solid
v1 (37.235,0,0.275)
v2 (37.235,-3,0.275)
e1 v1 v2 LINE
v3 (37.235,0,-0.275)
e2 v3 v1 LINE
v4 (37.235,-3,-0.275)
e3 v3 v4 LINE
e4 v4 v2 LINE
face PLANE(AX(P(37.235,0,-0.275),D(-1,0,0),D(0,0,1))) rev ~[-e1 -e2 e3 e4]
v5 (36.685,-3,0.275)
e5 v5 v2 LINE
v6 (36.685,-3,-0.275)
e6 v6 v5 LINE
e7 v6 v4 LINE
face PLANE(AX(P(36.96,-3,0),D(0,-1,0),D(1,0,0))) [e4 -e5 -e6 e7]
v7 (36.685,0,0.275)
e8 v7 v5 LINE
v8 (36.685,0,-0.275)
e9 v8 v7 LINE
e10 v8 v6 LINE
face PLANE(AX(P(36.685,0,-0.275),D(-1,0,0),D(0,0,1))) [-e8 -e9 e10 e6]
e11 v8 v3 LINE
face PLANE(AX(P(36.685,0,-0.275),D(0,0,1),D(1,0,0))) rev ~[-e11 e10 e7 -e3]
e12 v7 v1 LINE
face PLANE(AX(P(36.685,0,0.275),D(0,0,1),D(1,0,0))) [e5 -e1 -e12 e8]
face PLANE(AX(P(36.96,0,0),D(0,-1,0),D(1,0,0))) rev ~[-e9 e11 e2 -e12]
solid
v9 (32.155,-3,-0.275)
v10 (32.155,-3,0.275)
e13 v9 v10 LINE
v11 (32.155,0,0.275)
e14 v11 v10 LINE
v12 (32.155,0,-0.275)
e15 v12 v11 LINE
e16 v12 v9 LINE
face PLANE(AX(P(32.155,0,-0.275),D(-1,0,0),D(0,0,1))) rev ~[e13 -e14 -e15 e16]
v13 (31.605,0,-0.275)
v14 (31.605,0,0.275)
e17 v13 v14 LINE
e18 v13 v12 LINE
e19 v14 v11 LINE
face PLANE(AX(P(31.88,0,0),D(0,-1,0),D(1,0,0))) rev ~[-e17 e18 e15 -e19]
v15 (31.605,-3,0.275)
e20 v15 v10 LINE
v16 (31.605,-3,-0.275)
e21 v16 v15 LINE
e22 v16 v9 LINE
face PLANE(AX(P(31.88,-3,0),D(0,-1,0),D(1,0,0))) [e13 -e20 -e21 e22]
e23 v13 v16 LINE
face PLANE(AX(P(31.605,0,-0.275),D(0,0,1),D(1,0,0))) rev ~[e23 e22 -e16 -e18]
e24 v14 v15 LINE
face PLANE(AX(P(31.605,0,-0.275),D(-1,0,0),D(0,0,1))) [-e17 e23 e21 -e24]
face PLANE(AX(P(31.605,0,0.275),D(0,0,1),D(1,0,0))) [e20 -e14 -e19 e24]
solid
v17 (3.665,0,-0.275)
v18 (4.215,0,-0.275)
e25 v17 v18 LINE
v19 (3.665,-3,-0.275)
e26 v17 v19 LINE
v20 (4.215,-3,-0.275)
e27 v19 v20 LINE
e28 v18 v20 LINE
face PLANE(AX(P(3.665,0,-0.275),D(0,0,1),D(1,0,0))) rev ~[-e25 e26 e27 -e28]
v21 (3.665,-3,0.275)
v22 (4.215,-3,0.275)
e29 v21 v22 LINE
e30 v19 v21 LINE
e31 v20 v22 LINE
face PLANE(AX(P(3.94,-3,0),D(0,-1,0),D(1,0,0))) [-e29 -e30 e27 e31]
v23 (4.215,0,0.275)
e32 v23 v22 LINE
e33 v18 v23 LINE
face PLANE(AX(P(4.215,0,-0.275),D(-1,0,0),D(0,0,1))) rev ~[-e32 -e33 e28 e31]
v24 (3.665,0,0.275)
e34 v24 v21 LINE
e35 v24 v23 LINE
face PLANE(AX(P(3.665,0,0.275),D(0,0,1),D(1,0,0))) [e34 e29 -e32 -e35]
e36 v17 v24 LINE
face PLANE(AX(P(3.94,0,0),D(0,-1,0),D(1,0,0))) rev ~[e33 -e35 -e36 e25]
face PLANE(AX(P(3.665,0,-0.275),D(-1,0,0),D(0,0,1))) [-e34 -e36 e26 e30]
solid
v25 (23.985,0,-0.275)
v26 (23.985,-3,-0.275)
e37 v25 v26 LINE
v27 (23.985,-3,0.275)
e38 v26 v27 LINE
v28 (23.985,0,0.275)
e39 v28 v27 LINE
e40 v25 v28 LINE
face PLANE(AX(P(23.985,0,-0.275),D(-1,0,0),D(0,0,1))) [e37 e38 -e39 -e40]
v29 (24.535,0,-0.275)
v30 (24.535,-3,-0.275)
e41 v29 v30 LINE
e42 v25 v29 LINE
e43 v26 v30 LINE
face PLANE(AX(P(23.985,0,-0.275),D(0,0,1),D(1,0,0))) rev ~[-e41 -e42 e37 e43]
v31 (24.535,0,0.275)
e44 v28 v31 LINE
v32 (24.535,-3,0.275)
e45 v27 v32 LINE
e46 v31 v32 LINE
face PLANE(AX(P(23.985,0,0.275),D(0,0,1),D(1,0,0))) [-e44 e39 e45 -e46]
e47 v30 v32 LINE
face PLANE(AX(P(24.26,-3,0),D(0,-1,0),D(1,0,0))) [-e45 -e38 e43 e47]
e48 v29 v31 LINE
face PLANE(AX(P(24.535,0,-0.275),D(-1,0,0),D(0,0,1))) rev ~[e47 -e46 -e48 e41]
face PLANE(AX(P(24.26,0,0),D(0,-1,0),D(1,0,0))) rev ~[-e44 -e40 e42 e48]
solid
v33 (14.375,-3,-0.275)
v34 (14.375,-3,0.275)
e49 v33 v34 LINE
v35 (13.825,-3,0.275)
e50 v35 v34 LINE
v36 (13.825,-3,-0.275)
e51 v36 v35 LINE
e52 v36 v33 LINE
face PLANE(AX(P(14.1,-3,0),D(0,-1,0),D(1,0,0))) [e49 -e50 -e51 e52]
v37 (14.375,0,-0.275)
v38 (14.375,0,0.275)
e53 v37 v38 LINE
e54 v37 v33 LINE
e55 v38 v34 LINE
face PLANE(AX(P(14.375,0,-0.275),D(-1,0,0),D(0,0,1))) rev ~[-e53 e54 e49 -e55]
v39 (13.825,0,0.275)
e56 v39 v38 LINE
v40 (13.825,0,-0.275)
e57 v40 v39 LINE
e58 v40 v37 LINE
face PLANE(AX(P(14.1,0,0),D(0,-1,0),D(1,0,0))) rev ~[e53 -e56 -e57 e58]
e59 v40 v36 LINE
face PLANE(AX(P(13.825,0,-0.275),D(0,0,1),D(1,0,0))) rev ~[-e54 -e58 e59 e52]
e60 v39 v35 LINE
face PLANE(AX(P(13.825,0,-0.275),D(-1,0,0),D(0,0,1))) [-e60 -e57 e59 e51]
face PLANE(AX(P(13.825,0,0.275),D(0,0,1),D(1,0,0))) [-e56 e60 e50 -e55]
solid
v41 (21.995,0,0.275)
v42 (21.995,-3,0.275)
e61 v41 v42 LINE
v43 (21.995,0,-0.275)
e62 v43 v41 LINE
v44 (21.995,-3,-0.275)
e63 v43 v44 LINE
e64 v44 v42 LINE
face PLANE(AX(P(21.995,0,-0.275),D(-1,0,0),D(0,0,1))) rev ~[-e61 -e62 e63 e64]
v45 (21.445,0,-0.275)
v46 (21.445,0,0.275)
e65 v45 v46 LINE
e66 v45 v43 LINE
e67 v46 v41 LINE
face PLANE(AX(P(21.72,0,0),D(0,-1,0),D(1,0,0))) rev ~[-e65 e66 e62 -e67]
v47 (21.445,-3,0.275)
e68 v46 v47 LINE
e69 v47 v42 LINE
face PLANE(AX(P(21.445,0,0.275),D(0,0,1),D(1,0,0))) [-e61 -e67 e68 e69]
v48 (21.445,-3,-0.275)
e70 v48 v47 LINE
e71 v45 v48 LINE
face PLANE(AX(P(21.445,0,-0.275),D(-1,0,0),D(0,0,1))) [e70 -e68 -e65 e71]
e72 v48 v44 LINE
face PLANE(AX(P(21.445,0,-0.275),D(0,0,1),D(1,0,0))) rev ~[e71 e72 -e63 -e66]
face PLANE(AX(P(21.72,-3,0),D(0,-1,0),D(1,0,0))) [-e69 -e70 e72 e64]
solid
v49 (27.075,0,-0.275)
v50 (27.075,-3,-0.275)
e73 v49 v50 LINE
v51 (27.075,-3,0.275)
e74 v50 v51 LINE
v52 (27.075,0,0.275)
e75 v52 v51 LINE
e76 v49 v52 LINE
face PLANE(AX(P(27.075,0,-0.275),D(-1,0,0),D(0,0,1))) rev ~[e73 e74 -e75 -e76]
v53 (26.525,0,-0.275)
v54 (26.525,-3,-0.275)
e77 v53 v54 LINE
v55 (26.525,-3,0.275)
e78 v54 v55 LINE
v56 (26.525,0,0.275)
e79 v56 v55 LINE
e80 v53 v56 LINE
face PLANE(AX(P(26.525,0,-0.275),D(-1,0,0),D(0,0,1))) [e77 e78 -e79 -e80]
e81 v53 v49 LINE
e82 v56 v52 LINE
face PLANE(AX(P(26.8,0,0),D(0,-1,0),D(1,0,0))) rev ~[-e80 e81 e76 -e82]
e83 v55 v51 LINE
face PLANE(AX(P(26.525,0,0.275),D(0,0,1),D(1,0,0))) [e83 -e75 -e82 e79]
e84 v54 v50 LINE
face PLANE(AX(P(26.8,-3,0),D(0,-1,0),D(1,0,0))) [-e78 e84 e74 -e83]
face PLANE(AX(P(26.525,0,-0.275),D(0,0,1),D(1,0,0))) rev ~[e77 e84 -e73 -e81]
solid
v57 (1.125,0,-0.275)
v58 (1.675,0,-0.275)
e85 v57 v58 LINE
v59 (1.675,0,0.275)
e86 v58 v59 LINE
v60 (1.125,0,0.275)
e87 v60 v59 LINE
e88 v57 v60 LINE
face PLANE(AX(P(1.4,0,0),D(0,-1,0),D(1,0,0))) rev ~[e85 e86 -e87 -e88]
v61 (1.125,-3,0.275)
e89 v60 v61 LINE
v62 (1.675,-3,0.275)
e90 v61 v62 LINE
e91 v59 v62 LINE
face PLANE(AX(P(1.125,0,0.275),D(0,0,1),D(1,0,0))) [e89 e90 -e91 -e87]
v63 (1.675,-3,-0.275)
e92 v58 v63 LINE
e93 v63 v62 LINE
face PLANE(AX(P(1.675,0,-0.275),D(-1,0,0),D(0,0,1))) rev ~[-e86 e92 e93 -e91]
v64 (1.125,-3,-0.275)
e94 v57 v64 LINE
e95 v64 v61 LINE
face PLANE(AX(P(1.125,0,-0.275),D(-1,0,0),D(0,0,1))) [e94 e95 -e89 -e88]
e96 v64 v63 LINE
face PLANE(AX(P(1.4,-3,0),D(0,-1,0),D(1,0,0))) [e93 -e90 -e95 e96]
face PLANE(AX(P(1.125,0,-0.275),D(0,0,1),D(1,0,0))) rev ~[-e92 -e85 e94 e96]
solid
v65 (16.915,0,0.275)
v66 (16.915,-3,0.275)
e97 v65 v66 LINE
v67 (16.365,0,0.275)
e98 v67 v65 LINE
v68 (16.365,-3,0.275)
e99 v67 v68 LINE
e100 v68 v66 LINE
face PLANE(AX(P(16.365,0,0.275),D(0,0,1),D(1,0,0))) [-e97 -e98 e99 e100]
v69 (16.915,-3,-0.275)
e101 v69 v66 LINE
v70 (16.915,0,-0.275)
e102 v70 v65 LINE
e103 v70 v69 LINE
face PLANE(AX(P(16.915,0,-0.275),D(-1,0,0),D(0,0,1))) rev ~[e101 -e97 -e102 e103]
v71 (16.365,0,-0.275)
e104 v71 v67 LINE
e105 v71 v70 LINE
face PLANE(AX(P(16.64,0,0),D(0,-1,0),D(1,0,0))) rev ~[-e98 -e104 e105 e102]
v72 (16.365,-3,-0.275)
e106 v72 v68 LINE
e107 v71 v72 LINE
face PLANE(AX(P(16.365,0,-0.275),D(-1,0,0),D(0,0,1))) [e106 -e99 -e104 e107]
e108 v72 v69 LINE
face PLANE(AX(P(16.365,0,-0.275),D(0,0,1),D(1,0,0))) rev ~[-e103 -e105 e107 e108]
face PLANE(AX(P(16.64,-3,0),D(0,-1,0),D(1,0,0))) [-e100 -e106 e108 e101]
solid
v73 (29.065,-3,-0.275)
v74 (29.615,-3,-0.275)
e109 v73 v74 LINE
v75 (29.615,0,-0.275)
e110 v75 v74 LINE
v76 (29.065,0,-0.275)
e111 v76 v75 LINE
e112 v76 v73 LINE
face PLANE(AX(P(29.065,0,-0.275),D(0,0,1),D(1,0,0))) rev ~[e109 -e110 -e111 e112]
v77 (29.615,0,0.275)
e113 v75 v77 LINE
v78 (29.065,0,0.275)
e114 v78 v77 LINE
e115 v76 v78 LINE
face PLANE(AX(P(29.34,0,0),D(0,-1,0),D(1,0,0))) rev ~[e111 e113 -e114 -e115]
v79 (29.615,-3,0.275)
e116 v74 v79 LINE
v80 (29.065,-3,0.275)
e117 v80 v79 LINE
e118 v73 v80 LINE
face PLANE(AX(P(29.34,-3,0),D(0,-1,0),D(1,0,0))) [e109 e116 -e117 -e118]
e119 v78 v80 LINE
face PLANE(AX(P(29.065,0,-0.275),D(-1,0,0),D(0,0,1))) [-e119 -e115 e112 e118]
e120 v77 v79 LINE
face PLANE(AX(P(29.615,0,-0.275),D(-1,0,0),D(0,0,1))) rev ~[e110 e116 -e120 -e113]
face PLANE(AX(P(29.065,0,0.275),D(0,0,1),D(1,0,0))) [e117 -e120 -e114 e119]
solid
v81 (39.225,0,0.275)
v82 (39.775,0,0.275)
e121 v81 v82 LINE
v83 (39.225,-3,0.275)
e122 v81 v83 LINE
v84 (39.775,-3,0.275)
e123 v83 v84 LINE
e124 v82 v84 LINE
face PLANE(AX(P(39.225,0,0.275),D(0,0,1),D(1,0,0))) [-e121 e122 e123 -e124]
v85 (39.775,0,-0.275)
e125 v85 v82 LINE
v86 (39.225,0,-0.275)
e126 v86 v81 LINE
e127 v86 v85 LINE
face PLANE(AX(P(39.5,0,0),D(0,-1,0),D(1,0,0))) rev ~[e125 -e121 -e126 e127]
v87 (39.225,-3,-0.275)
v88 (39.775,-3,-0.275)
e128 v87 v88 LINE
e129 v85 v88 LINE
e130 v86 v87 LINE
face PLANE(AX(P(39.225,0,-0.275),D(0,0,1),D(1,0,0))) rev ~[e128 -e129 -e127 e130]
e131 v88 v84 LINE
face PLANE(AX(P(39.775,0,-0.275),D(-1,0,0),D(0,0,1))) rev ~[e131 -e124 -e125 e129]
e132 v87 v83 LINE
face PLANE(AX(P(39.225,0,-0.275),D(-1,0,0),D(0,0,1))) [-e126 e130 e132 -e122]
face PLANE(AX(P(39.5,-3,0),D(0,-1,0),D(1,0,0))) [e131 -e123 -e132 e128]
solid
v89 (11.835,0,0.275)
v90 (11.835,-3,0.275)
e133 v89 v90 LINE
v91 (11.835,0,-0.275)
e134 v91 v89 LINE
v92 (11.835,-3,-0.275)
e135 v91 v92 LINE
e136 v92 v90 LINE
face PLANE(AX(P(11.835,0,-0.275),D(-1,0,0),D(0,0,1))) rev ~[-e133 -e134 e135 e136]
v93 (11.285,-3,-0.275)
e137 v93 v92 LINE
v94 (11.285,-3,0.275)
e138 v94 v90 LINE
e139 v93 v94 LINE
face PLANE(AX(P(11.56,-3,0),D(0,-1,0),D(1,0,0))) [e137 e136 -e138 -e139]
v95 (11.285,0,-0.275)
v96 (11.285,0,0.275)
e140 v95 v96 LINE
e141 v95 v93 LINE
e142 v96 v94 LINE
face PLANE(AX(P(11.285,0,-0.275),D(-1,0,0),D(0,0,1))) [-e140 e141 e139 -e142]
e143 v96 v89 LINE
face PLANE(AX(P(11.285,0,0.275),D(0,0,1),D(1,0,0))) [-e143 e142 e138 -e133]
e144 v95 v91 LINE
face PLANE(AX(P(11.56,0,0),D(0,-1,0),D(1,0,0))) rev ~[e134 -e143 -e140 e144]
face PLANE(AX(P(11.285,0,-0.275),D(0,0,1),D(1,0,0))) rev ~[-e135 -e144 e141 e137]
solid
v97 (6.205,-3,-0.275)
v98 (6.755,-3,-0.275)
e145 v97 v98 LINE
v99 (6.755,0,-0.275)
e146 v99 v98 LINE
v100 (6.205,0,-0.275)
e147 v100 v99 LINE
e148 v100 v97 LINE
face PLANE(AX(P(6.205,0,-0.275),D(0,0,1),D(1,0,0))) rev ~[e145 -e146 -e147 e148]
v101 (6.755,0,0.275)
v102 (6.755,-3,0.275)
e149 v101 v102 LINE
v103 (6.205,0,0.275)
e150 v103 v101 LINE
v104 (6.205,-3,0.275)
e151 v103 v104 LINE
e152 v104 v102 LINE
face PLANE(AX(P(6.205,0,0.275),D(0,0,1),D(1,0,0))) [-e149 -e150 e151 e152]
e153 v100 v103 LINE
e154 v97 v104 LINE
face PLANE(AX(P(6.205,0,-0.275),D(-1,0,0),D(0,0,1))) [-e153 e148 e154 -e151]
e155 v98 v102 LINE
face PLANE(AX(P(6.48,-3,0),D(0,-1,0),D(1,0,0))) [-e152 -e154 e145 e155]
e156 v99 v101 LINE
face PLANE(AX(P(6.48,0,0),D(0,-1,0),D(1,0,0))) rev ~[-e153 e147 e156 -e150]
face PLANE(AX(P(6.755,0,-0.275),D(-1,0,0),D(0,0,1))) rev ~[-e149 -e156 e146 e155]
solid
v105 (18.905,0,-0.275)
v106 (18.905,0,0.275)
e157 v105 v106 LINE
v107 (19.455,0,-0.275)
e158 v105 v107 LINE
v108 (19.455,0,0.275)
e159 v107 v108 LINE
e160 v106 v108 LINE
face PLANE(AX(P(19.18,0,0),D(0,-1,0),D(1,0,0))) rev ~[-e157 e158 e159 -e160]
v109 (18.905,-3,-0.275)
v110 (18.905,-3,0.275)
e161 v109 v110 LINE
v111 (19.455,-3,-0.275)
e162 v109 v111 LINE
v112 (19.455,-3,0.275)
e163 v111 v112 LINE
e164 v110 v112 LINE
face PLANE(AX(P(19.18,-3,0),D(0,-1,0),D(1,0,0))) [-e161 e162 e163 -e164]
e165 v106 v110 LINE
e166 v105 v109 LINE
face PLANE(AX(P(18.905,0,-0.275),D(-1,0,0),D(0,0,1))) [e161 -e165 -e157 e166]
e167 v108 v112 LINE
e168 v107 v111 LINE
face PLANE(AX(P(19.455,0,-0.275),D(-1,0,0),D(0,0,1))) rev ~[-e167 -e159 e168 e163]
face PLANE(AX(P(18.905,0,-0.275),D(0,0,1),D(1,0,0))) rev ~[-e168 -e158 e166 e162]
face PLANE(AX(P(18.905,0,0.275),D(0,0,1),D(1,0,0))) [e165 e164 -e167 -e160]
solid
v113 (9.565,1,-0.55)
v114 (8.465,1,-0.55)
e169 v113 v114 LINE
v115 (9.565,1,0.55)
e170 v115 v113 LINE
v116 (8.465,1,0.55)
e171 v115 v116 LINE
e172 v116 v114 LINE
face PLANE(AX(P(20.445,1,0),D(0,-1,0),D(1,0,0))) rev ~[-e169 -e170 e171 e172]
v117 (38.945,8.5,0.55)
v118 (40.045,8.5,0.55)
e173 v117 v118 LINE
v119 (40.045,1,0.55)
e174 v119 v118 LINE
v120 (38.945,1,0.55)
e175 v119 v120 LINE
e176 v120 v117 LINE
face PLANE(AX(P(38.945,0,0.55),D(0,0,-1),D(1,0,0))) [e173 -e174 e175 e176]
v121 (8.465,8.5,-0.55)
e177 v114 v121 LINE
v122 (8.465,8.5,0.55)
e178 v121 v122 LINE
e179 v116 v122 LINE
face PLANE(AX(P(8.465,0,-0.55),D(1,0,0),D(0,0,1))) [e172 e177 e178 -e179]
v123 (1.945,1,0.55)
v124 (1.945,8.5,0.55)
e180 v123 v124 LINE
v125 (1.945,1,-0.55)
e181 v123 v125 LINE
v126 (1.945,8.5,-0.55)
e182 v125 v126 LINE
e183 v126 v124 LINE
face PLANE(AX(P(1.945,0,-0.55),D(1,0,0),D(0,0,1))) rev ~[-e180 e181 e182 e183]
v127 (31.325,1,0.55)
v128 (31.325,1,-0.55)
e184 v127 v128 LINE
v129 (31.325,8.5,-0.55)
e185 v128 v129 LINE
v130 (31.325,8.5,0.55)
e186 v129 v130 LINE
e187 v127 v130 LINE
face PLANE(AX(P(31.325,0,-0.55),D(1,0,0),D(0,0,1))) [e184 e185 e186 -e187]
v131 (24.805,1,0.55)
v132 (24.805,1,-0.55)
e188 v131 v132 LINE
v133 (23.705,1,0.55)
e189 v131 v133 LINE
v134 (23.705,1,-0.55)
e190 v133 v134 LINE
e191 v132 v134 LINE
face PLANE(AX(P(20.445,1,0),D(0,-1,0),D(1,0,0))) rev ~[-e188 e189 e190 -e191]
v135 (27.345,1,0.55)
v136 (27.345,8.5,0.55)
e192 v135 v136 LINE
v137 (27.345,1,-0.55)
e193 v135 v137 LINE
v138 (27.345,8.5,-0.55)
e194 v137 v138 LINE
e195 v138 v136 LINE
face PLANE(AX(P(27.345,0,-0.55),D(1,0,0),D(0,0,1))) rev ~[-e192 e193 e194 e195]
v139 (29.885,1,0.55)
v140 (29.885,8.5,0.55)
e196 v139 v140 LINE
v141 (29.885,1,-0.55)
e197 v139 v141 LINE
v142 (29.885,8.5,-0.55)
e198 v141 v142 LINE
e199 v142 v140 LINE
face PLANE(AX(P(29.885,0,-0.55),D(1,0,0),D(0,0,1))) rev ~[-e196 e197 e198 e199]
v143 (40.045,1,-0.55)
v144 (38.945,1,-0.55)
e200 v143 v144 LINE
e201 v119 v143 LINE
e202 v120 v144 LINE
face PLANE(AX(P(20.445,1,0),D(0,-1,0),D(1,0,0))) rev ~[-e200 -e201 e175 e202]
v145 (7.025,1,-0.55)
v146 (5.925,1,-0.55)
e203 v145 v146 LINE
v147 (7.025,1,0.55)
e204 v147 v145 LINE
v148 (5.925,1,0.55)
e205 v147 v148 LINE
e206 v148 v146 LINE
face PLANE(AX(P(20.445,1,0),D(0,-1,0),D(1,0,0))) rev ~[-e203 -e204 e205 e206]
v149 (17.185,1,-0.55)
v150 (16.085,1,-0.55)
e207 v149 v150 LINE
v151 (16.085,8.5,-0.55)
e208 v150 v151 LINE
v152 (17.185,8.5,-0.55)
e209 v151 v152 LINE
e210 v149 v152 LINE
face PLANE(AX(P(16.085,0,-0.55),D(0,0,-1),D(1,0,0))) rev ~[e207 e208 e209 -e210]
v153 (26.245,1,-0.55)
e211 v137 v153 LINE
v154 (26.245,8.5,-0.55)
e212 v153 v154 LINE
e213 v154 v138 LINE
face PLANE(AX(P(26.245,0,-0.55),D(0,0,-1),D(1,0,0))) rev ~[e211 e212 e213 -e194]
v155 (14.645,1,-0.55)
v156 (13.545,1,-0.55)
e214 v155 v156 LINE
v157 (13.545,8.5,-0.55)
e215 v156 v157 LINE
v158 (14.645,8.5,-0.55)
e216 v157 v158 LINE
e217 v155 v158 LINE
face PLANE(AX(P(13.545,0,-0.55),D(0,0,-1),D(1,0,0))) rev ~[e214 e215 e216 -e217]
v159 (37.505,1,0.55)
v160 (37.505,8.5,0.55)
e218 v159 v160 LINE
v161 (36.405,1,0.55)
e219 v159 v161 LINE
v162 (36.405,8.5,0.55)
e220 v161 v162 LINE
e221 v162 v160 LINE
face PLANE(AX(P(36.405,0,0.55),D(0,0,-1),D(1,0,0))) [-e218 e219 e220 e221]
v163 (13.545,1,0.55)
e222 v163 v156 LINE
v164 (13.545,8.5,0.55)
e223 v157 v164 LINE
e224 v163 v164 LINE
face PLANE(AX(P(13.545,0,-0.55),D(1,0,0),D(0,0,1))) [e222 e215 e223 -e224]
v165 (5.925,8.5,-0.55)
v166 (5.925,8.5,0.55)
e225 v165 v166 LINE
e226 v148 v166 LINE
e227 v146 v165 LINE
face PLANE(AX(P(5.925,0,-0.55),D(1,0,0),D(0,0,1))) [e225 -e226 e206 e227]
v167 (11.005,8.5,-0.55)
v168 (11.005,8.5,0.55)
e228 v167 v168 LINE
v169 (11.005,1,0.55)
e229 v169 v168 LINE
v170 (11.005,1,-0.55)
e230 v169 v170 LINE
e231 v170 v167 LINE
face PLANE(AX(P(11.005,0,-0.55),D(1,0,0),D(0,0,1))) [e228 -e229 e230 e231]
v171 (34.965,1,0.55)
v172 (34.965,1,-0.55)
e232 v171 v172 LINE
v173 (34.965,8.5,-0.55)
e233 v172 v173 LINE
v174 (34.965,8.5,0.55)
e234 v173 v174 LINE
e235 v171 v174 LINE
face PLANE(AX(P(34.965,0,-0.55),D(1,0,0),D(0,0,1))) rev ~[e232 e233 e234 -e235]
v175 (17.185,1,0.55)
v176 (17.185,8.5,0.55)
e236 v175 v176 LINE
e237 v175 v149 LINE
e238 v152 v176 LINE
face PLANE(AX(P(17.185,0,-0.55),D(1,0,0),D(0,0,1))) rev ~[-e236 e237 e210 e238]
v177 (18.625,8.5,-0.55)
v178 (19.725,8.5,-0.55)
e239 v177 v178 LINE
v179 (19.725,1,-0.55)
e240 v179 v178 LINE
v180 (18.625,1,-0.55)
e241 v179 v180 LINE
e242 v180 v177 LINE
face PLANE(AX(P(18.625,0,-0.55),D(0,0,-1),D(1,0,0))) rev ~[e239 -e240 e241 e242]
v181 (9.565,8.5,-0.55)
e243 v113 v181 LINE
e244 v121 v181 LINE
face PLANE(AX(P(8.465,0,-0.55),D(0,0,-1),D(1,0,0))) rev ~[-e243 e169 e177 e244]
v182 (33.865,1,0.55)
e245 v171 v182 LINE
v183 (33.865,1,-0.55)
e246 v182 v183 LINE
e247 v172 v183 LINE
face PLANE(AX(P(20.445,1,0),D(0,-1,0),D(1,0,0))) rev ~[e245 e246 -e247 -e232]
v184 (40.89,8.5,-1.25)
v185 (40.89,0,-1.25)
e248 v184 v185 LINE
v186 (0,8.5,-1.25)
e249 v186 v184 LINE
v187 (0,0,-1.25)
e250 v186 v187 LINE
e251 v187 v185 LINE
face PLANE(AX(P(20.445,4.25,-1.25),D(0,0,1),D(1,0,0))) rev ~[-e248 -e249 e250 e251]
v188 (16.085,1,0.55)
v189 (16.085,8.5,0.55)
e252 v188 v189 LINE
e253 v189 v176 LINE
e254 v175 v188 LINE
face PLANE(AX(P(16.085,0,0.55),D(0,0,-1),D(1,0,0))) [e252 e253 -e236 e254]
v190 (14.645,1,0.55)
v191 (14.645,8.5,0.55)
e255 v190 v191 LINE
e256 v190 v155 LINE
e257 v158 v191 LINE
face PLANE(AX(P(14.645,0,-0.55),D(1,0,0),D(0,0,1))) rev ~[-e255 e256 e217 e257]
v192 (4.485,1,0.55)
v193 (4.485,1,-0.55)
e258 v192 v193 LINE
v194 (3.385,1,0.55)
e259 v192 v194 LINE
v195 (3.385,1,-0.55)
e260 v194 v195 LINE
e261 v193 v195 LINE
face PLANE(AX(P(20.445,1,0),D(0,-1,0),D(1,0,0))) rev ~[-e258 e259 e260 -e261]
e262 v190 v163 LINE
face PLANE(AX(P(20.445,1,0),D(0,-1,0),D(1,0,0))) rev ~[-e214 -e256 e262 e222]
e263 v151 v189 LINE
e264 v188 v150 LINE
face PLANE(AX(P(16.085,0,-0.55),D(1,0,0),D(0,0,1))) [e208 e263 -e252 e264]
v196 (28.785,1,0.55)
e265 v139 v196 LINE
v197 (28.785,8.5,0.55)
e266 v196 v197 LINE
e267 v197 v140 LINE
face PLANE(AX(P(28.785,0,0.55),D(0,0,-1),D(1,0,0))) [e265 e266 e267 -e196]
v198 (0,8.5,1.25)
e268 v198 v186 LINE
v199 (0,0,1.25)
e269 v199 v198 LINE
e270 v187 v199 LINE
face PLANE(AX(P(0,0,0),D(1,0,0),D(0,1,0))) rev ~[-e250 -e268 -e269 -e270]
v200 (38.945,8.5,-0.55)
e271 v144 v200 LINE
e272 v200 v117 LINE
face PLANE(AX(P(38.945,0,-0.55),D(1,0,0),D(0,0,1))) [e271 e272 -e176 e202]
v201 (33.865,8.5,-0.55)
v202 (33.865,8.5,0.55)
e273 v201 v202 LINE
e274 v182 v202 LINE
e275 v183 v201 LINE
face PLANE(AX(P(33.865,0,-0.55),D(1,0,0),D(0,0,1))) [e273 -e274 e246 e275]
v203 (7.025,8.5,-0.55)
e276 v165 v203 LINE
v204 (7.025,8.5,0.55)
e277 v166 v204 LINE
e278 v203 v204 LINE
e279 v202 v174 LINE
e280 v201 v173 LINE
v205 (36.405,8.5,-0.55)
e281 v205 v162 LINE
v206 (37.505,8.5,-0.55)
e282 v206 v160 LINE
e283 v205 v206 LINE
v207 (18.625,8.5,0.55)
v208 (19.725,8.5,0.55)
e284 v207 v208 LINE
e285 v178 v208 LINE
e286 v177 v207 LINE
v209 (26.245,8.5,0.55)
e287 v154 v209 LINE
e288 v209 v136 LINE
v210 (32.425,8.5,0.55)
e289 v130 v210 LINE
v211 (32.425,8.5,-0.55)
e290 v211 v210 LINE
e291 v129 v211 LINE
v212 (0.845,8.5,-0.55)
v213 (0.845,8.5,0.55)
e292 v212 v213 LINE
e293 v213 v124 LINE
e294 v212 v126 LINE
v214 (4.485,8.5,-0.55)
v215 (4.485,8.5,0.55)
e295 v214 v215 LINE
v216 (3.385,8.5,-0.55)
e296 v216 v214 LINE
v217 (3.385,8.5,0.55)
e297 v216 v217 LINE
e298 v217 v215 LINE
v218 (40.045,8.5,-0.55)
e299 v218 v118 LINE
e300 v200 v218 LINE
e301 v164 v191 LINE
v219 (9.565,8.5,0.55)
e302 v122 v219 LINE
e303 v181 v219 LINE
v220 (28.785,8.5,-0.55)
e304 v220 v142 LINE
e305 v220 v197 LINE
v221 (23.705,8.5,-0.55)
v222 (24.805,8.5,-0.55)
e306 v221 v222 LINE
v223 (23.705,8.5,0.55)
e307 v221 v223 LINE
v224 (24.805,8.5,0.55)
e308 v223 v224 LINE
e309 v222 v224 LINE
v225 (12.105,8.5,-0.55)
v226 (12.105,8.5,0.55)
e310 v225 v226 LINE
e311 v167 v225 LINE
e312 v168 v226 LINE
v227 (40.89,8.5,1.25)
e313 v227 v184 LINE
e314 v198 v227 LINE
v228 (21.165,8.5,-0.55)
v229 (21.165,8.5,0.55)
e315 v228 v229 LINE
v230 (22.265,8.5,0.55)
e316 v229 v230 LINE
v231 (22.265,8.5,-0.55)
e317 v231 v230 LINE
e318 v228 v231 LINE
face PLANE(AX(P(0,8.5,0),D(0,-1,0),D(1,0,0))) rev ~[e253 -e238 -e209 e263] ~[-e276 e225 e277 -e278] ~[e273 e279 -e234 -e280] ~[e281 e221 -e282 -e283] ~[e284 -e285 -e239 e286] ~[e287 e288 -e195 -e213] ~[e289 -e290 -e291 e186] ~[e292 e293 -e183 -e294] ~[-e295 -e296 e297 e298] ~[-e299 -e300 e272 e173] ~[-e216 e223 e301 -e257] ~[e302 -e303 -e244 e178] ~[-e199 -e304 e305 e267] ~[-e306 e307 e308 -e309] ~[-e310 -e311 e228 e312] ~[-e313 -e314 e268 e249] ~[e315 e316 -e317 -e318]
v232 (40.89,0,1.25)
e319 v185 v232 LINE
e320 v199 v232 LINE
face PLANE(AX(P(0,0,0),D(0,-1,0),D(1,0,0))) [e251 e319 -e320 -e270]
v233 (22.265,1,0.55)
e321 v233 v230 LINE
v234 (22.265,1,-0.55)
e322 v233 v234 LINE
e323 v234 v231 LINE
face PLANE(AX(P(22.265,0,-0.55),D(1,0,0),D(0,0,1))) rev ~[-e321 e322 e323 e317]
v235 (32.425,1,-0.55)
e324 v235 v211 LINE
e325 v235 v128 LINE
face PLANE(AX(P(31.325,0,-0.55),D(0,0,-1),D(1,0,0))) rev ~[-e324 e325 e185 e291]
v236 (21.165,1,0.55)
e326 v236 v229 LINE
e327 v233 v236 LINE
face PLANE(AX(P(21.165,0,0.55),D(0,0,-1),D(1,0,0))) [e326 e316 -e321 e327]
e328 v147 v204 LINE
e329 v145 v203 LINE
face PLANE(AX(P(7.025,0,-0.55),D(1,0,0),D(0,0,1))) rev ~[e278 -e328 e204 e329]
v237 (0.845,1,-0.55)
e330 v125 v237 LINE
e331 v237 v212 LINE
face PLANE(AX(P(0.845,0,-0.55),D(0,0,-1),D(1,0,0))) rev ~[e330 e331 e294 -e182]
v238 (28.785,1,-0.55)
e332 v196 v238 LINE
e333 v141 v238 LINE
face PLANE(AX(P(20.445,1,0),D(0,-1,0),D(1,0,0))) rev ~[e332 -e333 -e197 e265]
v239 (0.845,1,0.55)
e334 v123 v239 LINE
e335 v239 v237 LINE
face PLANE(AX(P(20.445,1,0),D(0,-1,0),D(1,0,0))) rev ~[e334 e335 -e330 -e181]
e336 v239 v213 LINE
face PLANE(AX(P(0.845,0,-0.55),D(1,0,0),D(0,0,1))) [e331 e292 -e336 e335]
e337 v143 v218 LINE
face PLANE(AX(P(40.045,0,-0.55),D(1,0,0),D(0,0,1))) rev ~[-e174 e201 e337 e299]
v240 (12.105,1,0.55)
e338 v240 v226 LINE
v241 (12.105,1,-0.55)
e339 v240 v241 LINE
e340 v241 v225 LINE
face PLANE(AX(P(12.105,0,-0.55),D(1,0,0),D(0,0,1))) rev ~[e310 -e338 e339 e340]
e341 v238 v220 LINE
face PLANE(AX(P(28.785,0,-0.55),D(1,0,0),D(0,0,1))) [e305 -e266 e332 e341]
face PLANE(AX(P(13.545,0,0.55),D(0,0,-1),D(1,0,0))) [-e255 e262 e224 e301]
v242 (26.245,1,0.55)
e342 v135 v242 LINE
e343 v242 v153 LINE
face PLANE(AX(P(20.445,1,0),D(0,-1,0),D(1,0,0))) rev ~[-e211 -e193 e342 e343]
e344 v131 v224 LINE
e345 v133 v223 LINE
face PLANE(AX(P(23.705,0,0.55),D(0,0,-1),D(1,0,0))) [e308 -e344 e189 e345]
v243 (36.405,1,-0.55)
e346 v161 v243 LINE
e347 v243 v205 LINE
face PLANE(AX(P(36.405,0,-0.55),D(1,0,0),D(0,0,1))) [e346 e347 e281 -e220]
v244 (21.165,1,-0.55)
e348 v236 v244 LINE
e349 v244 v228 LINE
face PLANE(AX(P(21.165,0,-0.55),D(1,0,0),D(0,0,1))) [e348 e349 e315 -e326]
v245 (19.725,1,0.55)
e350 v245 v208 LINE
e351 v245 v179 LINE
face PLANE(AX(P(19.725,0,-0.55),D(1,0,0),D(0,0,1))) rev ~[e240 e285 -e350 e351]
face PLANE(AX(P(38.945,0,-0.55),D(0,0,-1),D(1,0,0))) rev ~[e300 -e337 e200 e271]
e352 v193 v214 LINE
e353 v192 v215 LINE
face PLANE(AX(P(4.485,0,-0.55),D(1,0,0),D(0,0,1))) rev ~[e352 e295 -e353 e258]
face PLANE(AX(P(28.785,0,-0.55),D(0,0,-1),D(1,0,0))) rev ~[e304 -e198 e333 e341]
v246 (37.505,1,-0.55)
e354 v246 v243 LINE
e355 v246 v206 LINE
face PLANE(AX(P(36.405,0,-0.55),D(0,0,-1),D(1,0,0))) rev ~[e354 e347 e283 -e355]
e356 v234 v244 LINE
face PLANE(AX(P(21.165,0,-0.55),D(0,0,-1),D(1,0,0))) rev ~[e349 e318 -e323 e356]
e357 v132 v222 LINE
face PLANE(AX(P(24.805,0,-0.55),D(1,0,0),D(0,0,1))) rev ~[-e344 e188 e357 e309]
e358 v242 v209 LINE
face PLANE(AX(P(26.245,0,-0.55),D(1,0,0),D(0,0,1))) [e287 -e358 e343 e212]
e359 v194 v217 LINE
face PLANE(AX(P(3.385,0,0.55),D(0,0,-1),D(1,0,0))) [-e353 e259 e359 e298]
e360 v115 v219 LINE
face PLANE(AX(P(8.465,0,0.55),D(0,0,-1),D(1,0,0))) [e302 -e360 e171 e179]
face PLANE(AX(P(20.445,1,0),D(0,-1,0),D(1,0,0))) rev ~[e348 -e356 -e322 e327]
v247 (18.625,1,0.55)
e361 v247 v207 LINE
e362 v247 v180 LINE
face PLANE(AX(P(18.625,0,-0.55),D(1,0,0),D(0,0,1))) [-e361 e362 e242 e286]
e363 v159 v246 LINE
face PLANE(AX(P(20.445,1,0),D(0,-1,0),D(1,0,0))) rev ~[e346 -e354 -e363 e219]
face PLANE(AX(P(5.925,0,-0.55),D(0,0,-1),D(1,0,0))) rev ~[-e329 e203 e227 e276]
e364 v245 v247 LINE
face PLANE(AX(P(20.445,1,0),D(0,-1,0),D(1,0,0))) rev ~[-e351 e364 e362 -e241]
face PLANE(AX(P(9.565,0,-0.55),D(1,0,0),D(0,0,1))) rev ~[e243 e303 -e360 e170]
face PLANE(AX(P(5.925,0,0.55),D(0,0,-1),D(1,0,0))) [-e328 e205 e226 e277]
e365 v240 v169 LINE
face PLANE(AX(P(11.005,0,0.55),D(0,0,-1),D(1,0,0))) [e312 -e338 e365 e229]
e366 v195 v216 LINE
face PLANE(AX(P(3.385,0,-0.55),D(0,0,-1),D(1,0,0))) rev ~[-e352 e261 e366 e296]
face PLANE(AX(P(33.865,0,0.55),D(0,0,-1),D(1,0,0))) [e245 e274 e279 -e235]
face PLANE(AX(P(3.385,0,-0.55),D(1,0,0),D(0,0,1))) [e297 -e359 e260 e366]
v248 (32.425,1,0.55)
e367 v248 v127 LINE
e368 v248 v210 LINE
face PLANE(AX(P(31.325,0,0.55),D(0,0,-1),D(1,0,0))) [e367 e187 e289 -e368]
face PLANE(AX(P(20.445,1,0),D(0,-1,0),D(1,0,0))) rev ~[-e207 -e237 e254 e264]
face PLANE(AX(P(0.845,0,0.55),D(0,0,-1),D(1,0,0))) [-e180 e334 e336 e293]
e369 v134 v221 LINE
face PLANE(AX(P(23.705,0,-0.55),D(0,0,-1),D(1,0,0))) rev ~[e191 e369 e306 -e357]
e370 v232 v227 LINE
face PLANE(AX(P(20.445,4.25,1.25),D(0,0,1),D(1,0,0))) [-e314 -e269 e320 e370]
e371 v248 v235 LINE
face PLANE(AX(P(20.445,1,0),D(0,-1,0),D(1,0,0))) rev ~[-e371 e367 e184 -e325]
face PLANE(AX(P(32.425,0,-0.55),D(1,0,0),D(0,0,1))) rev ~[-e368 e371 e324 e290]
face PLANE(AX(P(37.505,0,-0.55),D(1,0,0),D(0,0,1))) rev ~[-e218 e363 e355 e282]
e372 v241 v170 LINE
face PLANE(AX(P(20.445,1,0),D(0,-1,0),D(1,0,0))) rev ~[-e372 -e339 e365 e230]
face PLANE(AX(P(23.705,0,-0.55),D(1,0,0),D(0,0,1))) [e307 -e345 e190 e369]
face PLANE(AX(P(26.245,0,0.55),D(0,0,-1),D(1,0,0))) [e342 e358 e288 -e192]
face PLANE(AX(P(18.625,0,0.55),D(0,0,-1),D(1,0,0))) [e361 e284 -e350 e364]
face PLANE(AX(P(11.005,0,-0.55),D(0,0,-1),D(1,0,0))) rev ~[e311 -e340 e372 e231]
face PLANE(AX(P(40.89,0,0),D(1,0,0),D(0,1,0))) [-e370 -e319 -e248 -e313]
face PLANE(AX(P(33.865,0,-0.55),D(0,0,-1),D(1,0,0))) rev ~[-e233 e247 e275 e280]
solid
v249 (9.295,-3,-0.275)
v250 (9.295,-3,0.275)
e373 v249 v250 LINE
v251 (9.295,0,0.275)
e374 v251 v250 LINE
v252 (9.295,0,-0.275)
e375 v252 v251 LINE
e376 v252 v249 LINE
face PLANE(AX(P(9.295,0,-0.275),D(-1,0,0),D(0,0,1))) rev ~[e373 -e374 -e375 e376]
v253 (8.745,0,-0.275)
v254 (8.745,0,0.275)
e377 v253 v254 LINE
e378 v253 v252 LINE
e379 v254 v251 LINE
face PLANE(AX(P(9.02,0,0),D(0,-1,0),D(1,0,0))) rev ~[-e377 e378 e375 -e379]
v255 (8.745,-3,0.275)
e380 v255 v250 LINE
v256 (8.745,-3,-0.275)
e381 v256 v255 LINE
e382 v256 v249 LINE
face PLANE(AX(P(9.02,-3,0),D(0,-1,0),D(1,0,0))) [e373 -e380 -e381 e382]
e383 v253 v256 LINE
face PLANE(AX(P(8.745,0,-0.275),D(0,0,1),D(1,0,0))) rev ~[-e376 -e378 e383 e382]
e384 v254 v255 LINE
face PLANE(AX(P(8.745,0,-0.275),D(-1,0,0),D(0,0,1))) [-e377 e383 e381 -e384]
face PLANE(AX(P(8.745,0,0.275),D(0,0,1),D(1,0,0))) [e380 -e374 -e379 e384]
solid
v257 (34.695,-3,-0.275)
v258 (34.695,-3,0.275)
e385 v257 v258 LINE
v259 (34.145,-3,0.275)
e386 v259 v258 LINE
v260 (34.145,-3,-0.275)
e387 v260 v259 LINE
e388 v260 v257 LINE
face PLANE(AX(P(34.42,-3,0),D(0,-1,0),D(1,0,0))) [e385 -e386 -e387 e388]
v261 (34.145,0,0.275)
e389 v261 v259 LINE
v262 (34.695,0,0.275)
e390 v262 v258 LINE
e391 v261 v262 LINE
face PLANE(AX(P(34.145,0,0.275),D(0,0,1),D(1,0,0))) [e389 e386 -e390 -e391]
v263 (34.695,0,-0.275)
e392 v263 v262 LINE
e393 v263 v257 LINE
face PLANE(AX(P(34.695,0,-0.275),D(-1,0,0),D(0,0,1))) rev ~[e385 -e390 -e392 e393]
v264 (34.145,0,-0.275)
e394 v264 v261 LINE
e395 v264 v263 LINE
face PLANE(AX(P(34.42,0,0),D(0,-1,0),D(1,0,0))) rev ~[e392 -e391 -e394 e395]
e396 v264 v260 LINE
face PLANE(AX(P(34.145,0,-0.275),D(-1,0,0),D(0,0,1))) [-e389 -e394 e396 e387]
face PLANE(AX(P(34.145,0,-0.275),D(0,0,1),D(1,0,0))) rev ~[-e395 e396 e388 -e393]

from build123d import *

# Parameters (mm, degrees)
SKETCH1_W              = 40.89
SKETCH1_H              = 8.5
BOSS_EXTRUDE1_DEPTH    = 1.25
SKETCH2_W              = 1.1
SKETCH2_H              = 1.1
CUT_EXTRUDE1_DEPTH     = 9.5
SKETCH3_W              = 40.89
SKETCH3_H              = 2.5
BOSS_EXTRUDE2_DEPTH    = 1
SKETCH4_W              = 0.55
SKETCH4_H              = 0.55
BOSS_EXTRUDE3_DEPTH    = 3
BOSS_EXTRUDE3_2_DEPTH  = 3
BOSS_EXTRUDE3_3_DEPTH  = 3
BOSS_EXTRUDE3_4_DEPTH  = 3
BOSS_EXTRUDE3_5_DEPTH  = 3
BOSS_EXTRUDE3_6_DEPTH  = 3
BOSS_EXTRUDE3_7_DEPTH  = 3
BOSS_EXTRUDE3_8_DEPTH  = 3
BOSS_EXTRUDE3_9_DEPTH  = 3
BOSS_EXTRUDE3_10_DEPTH = 3
BOSS_EXTRUDE3_11_DEPTH = 3
BOSS_EXTRUDE3_12_DEPTH = 3
BOSS_EXTRUDE3_13_DEPTH = 3
BOSS_EXTRUDE3_14_DEPTH = 3
BOSS_EXTRUDE3_15_DEPTH = 3
BOSS_EXTRUDE3_16_DEPTH = 3


with BuildPart() as part:
    # Sketch1 → Boss-Extrude1 (new body, symmetric)
    with BuildSketch(Plane.XY):
        with Locations((20.445, 4.25)):
            Rectangle(SKETCH1_W, SKETCH1_H)
    extrude(amount=BOSS_EXTRUDE1_DEPTH, both=True)

    # Sketch2 → Cut-Extrude1 (cut, through all)
    with BuildSketch(Plane.XZ):
        with Locations((3.935, 0)):
            Rectangle(SKETCH2_W, SKETCH2_H)
        with Locations((1.395, 0)):
            Rectangle(SKETCH2_W, SKETCH2_H)
        with Locations((6.475, 0)):
            Rectangle(SKETCH2_W, SKETCH2_H)
        with Locations((9.015, 0)):
            Rectangle(SKETCH2_W, SKETCH2_H)
        with Locations((11.555, 0)):
            Rectangle(SKETCH2_W, SKETCH2_H)
        with Locations((14.095, 0)):
            Rectangle(SKETCH2_W, SKETCH2_H)
        with Locations((16.635, 0)):
            Rectangle(SKETCH2_W, SKETCH2_H)
        with Locations((19.175, 0)):
            Rectangle(SKETCH2_W, SKETCH2_H)
        with Locations((21.715, 0)):
            Rectangle(SKETCH2_W, SKETCH2_H)
        with Locations((24.255, 0)):
            Rectangle(SKETCH2_W, SKETCH2_H)
        with Locations((26.795, 0)):
            Rectangle(SKETCH2_W, SKETCH2_H)
        with Locations((29.335, 0)):
            Rectangle(SKETCH2_W, SKETCH2_H)
        with Locations((31.875, 0)):
            Rectangle(SKETCH2_W, SKETCH2_H)
        with Locations((34.415, 0)):
            Rectangle(SKETCH2_W, SKETCH2_H)
        with Locations((36.955, 0)):
            Rectangle(SKETCH2_W, SKETCH2_H)
        with Locations((39.495, 0)):
            Rectangle(SKETCH2_W, SKETCH2_H)
    extrude(amount=-CUT_EXTRUDE1_DEPTH, mode=Mode.SUBTRACT)

    # Sketch3 → Boss-Extrude2 (add)
    with BuildSketch(Plane.XZ):
        with Locations((20.445, 0)):
            Rectangle(SKETCH3_W, SKETCH3_H)
    extrude(amount=-BOSS_EXTRUDE2_DEPTH)


with BuildPart() as body_2:
    # Sketch4 → Boss-Extrude3 (new body)
    with BuildSketch(Plane.XZ):
        with Locations((1.4, 0)):
            Rectangle(SKETCH4_W, SKETCH4_H)
    extrude(amount=BOSS_EXTRUDE3_DEPTH)


with BuildPart() as body_3:
    # Sketch4 → Boss-Extrude3 2 (new body)
    with BuildSketch(Plane.XZ):
        with Locations((3.94, 0)):
            Rectangle(SKETCH4_W, SKETCH4_H)
    extrude(amount=BOSS_EXTRUDE3_2_DEPTH)


with BuildPart() as body_4:
    # Sketch4 → Boss-Extrude3 3 (new body)
    with BuildSketch(Plane.XZ):
        with Locations((6.48, 0)):
            Rectangle(SKETCH4_W, SKETCH4_H)
    extrude(amount=BOSS_EXTRUDE3_3_DEPTH)


with BuildPart() as body_5:
    # Sketch4 → Boss-Extrude3 4 (new body)
    with BuildSketch(Plane.XZ):
        with Locations((9.02, 0)):
            Rectangle(SKETCH4_W, SKETCH4_H)
    extrude(amount=BOSS_EXTRUDE3_4_DEPTH)


with BuildPart() as body_6:
    # Sketch4 → Boss-Extrude3 5 (new body)
    with BuildSketch(Plane.XZ):
        with Locations((11.56, 0)):
            Rectangle(SKETCH4_W, SKETCH4_H)
    extrude(amount=BOSS_EXTRUDE3_5_DEPTH)


with BuildPart() as body_7:
    # Sketch4 → Boss-Extrude3 6 (new body)
    with BuildSketch(Plane.XZ):
        with Locations((14.1, 0)):
            Rectangle(SKETCH4_W, SKETCH4_H)
    extrude(amount=BOSS_EXTRUDE3_6_DEPTH)


with BuildPart() as body_8:
    # Sketch4 → Boss-Extrude3 7 (new body)
    with BuildSketch(Plane.XZ):
        with Locations((16.64, 0)):
            Rectangle(SKETCH4_W, SKETCH4_H)
    extrude(amount=BOSS_EXTRUDE3_7_DEPTH)


with BuildPart() as body_9:
    # Sketch4 → Boss-Extrude3 8 (new body)
    with BuildSketch(Plane.XZ):
        with Locations((19.18, 0)):
            Rectangle(SKETCH4_W, SKETCH4_H)
    extrude(amount=BOSS_EXTRUDE3_8_DEPTH)


with BuildPart() as body_10:
    # Sketch4 → Boss-Extrude3 9 (new body)
    with BuildSketch(Plane.XZ):
        with Locations((21.72, 0)):
            Rectangle(SKETCH4_W, SKETCH4_H)
    extrude(amount=BOSS_EXTRUDE3_9_DEPTH)


with BuildPart() as body_11:
    # Sketch4 → Boss-Extrude3 10 (new body)
    with BuildSketch(Plane.XZ):
        with Locations((24.26, 0)):
            Rectangle(SKETCH4_W, SKETCH4_H)
    extrude(amount=BOSS_EXTRUDE3_10_DEPTH)


with BuildPart() as body_12:
    # Sketch4 → Boss-Extrude3 11 (new body)
    with BuildSketch(Plane.XZ):
        with Locations((26.8, 0)):
            Rectangle(SKETCH4_W, SKETCH4_H)
    extrude(amount=BOSS_EXTRUDE3_11_DEPTH)


with BuildPart() as body_13:
    # Sketch4 → Boss-Extrude3 12 (new body)
    with BuildSketch(Plane.XZ):
        with Locations((29.34, 0)):
            Rectangle(SKETCH4_W, SKETCH4_H)
    extrude(amount=BOSS_EXTRUDE3_12_DEPTH)


with BuildPart() as body_14:
    # Sketch4 → Boss-Extrude3 13 (new body)
    with BuildSketch(Plane.XZ):
        with Locations((31.88, 0)):
            Rectangle(SKETCH4_W, SKETCH4_H)
    extrude(amount=BOSS_EXTRUDE3_13_DEPTH)


with BuildPart() as body_15:
    # Sketch4 → Boss-Extrude3 14 (new body)
    with BuildSketch(Plane.XZ):
        with Locations((34.42, 0)):
            Rectangle(SKETCH4_W, SKETCH4_H)
    extrude(amount=BOSS_EXTRUDE3_14_DEPTH)


with BuildPart() as body_16:
    # Sketch4 → Boss-Extrude3 15 (new body)
    with BuildSketch(Plane.XZ):
        with Locations((36.96, 0)):
            Rectangle(SKETCH4_W, SKETCH4_H)
    extrude(amount=BOSS_EXTRUDE3_15_DEPTH)


with BuildPart() as body_17:
    # Sketch4 → Boss-Extrude3 16 (new body)
    with BuildSketch(Plane.XZ):
        with Locations((39.5, 0)):
            Rectangle(SKETCH4_W, SKETCH4_H)
    extrude(amount=BOSS_EXTRUDE3_16_DEPTH)


solid = Compound([part.part, body_2.part, body_3.part, body_4.part, body_5.part, body_6.part, body_7.part, body_8.part, body_9.part, body_10.part, body_11.part, body_12.part, body_13.part, body_14.part, body_15.part, body_16.part, body_17.part])
